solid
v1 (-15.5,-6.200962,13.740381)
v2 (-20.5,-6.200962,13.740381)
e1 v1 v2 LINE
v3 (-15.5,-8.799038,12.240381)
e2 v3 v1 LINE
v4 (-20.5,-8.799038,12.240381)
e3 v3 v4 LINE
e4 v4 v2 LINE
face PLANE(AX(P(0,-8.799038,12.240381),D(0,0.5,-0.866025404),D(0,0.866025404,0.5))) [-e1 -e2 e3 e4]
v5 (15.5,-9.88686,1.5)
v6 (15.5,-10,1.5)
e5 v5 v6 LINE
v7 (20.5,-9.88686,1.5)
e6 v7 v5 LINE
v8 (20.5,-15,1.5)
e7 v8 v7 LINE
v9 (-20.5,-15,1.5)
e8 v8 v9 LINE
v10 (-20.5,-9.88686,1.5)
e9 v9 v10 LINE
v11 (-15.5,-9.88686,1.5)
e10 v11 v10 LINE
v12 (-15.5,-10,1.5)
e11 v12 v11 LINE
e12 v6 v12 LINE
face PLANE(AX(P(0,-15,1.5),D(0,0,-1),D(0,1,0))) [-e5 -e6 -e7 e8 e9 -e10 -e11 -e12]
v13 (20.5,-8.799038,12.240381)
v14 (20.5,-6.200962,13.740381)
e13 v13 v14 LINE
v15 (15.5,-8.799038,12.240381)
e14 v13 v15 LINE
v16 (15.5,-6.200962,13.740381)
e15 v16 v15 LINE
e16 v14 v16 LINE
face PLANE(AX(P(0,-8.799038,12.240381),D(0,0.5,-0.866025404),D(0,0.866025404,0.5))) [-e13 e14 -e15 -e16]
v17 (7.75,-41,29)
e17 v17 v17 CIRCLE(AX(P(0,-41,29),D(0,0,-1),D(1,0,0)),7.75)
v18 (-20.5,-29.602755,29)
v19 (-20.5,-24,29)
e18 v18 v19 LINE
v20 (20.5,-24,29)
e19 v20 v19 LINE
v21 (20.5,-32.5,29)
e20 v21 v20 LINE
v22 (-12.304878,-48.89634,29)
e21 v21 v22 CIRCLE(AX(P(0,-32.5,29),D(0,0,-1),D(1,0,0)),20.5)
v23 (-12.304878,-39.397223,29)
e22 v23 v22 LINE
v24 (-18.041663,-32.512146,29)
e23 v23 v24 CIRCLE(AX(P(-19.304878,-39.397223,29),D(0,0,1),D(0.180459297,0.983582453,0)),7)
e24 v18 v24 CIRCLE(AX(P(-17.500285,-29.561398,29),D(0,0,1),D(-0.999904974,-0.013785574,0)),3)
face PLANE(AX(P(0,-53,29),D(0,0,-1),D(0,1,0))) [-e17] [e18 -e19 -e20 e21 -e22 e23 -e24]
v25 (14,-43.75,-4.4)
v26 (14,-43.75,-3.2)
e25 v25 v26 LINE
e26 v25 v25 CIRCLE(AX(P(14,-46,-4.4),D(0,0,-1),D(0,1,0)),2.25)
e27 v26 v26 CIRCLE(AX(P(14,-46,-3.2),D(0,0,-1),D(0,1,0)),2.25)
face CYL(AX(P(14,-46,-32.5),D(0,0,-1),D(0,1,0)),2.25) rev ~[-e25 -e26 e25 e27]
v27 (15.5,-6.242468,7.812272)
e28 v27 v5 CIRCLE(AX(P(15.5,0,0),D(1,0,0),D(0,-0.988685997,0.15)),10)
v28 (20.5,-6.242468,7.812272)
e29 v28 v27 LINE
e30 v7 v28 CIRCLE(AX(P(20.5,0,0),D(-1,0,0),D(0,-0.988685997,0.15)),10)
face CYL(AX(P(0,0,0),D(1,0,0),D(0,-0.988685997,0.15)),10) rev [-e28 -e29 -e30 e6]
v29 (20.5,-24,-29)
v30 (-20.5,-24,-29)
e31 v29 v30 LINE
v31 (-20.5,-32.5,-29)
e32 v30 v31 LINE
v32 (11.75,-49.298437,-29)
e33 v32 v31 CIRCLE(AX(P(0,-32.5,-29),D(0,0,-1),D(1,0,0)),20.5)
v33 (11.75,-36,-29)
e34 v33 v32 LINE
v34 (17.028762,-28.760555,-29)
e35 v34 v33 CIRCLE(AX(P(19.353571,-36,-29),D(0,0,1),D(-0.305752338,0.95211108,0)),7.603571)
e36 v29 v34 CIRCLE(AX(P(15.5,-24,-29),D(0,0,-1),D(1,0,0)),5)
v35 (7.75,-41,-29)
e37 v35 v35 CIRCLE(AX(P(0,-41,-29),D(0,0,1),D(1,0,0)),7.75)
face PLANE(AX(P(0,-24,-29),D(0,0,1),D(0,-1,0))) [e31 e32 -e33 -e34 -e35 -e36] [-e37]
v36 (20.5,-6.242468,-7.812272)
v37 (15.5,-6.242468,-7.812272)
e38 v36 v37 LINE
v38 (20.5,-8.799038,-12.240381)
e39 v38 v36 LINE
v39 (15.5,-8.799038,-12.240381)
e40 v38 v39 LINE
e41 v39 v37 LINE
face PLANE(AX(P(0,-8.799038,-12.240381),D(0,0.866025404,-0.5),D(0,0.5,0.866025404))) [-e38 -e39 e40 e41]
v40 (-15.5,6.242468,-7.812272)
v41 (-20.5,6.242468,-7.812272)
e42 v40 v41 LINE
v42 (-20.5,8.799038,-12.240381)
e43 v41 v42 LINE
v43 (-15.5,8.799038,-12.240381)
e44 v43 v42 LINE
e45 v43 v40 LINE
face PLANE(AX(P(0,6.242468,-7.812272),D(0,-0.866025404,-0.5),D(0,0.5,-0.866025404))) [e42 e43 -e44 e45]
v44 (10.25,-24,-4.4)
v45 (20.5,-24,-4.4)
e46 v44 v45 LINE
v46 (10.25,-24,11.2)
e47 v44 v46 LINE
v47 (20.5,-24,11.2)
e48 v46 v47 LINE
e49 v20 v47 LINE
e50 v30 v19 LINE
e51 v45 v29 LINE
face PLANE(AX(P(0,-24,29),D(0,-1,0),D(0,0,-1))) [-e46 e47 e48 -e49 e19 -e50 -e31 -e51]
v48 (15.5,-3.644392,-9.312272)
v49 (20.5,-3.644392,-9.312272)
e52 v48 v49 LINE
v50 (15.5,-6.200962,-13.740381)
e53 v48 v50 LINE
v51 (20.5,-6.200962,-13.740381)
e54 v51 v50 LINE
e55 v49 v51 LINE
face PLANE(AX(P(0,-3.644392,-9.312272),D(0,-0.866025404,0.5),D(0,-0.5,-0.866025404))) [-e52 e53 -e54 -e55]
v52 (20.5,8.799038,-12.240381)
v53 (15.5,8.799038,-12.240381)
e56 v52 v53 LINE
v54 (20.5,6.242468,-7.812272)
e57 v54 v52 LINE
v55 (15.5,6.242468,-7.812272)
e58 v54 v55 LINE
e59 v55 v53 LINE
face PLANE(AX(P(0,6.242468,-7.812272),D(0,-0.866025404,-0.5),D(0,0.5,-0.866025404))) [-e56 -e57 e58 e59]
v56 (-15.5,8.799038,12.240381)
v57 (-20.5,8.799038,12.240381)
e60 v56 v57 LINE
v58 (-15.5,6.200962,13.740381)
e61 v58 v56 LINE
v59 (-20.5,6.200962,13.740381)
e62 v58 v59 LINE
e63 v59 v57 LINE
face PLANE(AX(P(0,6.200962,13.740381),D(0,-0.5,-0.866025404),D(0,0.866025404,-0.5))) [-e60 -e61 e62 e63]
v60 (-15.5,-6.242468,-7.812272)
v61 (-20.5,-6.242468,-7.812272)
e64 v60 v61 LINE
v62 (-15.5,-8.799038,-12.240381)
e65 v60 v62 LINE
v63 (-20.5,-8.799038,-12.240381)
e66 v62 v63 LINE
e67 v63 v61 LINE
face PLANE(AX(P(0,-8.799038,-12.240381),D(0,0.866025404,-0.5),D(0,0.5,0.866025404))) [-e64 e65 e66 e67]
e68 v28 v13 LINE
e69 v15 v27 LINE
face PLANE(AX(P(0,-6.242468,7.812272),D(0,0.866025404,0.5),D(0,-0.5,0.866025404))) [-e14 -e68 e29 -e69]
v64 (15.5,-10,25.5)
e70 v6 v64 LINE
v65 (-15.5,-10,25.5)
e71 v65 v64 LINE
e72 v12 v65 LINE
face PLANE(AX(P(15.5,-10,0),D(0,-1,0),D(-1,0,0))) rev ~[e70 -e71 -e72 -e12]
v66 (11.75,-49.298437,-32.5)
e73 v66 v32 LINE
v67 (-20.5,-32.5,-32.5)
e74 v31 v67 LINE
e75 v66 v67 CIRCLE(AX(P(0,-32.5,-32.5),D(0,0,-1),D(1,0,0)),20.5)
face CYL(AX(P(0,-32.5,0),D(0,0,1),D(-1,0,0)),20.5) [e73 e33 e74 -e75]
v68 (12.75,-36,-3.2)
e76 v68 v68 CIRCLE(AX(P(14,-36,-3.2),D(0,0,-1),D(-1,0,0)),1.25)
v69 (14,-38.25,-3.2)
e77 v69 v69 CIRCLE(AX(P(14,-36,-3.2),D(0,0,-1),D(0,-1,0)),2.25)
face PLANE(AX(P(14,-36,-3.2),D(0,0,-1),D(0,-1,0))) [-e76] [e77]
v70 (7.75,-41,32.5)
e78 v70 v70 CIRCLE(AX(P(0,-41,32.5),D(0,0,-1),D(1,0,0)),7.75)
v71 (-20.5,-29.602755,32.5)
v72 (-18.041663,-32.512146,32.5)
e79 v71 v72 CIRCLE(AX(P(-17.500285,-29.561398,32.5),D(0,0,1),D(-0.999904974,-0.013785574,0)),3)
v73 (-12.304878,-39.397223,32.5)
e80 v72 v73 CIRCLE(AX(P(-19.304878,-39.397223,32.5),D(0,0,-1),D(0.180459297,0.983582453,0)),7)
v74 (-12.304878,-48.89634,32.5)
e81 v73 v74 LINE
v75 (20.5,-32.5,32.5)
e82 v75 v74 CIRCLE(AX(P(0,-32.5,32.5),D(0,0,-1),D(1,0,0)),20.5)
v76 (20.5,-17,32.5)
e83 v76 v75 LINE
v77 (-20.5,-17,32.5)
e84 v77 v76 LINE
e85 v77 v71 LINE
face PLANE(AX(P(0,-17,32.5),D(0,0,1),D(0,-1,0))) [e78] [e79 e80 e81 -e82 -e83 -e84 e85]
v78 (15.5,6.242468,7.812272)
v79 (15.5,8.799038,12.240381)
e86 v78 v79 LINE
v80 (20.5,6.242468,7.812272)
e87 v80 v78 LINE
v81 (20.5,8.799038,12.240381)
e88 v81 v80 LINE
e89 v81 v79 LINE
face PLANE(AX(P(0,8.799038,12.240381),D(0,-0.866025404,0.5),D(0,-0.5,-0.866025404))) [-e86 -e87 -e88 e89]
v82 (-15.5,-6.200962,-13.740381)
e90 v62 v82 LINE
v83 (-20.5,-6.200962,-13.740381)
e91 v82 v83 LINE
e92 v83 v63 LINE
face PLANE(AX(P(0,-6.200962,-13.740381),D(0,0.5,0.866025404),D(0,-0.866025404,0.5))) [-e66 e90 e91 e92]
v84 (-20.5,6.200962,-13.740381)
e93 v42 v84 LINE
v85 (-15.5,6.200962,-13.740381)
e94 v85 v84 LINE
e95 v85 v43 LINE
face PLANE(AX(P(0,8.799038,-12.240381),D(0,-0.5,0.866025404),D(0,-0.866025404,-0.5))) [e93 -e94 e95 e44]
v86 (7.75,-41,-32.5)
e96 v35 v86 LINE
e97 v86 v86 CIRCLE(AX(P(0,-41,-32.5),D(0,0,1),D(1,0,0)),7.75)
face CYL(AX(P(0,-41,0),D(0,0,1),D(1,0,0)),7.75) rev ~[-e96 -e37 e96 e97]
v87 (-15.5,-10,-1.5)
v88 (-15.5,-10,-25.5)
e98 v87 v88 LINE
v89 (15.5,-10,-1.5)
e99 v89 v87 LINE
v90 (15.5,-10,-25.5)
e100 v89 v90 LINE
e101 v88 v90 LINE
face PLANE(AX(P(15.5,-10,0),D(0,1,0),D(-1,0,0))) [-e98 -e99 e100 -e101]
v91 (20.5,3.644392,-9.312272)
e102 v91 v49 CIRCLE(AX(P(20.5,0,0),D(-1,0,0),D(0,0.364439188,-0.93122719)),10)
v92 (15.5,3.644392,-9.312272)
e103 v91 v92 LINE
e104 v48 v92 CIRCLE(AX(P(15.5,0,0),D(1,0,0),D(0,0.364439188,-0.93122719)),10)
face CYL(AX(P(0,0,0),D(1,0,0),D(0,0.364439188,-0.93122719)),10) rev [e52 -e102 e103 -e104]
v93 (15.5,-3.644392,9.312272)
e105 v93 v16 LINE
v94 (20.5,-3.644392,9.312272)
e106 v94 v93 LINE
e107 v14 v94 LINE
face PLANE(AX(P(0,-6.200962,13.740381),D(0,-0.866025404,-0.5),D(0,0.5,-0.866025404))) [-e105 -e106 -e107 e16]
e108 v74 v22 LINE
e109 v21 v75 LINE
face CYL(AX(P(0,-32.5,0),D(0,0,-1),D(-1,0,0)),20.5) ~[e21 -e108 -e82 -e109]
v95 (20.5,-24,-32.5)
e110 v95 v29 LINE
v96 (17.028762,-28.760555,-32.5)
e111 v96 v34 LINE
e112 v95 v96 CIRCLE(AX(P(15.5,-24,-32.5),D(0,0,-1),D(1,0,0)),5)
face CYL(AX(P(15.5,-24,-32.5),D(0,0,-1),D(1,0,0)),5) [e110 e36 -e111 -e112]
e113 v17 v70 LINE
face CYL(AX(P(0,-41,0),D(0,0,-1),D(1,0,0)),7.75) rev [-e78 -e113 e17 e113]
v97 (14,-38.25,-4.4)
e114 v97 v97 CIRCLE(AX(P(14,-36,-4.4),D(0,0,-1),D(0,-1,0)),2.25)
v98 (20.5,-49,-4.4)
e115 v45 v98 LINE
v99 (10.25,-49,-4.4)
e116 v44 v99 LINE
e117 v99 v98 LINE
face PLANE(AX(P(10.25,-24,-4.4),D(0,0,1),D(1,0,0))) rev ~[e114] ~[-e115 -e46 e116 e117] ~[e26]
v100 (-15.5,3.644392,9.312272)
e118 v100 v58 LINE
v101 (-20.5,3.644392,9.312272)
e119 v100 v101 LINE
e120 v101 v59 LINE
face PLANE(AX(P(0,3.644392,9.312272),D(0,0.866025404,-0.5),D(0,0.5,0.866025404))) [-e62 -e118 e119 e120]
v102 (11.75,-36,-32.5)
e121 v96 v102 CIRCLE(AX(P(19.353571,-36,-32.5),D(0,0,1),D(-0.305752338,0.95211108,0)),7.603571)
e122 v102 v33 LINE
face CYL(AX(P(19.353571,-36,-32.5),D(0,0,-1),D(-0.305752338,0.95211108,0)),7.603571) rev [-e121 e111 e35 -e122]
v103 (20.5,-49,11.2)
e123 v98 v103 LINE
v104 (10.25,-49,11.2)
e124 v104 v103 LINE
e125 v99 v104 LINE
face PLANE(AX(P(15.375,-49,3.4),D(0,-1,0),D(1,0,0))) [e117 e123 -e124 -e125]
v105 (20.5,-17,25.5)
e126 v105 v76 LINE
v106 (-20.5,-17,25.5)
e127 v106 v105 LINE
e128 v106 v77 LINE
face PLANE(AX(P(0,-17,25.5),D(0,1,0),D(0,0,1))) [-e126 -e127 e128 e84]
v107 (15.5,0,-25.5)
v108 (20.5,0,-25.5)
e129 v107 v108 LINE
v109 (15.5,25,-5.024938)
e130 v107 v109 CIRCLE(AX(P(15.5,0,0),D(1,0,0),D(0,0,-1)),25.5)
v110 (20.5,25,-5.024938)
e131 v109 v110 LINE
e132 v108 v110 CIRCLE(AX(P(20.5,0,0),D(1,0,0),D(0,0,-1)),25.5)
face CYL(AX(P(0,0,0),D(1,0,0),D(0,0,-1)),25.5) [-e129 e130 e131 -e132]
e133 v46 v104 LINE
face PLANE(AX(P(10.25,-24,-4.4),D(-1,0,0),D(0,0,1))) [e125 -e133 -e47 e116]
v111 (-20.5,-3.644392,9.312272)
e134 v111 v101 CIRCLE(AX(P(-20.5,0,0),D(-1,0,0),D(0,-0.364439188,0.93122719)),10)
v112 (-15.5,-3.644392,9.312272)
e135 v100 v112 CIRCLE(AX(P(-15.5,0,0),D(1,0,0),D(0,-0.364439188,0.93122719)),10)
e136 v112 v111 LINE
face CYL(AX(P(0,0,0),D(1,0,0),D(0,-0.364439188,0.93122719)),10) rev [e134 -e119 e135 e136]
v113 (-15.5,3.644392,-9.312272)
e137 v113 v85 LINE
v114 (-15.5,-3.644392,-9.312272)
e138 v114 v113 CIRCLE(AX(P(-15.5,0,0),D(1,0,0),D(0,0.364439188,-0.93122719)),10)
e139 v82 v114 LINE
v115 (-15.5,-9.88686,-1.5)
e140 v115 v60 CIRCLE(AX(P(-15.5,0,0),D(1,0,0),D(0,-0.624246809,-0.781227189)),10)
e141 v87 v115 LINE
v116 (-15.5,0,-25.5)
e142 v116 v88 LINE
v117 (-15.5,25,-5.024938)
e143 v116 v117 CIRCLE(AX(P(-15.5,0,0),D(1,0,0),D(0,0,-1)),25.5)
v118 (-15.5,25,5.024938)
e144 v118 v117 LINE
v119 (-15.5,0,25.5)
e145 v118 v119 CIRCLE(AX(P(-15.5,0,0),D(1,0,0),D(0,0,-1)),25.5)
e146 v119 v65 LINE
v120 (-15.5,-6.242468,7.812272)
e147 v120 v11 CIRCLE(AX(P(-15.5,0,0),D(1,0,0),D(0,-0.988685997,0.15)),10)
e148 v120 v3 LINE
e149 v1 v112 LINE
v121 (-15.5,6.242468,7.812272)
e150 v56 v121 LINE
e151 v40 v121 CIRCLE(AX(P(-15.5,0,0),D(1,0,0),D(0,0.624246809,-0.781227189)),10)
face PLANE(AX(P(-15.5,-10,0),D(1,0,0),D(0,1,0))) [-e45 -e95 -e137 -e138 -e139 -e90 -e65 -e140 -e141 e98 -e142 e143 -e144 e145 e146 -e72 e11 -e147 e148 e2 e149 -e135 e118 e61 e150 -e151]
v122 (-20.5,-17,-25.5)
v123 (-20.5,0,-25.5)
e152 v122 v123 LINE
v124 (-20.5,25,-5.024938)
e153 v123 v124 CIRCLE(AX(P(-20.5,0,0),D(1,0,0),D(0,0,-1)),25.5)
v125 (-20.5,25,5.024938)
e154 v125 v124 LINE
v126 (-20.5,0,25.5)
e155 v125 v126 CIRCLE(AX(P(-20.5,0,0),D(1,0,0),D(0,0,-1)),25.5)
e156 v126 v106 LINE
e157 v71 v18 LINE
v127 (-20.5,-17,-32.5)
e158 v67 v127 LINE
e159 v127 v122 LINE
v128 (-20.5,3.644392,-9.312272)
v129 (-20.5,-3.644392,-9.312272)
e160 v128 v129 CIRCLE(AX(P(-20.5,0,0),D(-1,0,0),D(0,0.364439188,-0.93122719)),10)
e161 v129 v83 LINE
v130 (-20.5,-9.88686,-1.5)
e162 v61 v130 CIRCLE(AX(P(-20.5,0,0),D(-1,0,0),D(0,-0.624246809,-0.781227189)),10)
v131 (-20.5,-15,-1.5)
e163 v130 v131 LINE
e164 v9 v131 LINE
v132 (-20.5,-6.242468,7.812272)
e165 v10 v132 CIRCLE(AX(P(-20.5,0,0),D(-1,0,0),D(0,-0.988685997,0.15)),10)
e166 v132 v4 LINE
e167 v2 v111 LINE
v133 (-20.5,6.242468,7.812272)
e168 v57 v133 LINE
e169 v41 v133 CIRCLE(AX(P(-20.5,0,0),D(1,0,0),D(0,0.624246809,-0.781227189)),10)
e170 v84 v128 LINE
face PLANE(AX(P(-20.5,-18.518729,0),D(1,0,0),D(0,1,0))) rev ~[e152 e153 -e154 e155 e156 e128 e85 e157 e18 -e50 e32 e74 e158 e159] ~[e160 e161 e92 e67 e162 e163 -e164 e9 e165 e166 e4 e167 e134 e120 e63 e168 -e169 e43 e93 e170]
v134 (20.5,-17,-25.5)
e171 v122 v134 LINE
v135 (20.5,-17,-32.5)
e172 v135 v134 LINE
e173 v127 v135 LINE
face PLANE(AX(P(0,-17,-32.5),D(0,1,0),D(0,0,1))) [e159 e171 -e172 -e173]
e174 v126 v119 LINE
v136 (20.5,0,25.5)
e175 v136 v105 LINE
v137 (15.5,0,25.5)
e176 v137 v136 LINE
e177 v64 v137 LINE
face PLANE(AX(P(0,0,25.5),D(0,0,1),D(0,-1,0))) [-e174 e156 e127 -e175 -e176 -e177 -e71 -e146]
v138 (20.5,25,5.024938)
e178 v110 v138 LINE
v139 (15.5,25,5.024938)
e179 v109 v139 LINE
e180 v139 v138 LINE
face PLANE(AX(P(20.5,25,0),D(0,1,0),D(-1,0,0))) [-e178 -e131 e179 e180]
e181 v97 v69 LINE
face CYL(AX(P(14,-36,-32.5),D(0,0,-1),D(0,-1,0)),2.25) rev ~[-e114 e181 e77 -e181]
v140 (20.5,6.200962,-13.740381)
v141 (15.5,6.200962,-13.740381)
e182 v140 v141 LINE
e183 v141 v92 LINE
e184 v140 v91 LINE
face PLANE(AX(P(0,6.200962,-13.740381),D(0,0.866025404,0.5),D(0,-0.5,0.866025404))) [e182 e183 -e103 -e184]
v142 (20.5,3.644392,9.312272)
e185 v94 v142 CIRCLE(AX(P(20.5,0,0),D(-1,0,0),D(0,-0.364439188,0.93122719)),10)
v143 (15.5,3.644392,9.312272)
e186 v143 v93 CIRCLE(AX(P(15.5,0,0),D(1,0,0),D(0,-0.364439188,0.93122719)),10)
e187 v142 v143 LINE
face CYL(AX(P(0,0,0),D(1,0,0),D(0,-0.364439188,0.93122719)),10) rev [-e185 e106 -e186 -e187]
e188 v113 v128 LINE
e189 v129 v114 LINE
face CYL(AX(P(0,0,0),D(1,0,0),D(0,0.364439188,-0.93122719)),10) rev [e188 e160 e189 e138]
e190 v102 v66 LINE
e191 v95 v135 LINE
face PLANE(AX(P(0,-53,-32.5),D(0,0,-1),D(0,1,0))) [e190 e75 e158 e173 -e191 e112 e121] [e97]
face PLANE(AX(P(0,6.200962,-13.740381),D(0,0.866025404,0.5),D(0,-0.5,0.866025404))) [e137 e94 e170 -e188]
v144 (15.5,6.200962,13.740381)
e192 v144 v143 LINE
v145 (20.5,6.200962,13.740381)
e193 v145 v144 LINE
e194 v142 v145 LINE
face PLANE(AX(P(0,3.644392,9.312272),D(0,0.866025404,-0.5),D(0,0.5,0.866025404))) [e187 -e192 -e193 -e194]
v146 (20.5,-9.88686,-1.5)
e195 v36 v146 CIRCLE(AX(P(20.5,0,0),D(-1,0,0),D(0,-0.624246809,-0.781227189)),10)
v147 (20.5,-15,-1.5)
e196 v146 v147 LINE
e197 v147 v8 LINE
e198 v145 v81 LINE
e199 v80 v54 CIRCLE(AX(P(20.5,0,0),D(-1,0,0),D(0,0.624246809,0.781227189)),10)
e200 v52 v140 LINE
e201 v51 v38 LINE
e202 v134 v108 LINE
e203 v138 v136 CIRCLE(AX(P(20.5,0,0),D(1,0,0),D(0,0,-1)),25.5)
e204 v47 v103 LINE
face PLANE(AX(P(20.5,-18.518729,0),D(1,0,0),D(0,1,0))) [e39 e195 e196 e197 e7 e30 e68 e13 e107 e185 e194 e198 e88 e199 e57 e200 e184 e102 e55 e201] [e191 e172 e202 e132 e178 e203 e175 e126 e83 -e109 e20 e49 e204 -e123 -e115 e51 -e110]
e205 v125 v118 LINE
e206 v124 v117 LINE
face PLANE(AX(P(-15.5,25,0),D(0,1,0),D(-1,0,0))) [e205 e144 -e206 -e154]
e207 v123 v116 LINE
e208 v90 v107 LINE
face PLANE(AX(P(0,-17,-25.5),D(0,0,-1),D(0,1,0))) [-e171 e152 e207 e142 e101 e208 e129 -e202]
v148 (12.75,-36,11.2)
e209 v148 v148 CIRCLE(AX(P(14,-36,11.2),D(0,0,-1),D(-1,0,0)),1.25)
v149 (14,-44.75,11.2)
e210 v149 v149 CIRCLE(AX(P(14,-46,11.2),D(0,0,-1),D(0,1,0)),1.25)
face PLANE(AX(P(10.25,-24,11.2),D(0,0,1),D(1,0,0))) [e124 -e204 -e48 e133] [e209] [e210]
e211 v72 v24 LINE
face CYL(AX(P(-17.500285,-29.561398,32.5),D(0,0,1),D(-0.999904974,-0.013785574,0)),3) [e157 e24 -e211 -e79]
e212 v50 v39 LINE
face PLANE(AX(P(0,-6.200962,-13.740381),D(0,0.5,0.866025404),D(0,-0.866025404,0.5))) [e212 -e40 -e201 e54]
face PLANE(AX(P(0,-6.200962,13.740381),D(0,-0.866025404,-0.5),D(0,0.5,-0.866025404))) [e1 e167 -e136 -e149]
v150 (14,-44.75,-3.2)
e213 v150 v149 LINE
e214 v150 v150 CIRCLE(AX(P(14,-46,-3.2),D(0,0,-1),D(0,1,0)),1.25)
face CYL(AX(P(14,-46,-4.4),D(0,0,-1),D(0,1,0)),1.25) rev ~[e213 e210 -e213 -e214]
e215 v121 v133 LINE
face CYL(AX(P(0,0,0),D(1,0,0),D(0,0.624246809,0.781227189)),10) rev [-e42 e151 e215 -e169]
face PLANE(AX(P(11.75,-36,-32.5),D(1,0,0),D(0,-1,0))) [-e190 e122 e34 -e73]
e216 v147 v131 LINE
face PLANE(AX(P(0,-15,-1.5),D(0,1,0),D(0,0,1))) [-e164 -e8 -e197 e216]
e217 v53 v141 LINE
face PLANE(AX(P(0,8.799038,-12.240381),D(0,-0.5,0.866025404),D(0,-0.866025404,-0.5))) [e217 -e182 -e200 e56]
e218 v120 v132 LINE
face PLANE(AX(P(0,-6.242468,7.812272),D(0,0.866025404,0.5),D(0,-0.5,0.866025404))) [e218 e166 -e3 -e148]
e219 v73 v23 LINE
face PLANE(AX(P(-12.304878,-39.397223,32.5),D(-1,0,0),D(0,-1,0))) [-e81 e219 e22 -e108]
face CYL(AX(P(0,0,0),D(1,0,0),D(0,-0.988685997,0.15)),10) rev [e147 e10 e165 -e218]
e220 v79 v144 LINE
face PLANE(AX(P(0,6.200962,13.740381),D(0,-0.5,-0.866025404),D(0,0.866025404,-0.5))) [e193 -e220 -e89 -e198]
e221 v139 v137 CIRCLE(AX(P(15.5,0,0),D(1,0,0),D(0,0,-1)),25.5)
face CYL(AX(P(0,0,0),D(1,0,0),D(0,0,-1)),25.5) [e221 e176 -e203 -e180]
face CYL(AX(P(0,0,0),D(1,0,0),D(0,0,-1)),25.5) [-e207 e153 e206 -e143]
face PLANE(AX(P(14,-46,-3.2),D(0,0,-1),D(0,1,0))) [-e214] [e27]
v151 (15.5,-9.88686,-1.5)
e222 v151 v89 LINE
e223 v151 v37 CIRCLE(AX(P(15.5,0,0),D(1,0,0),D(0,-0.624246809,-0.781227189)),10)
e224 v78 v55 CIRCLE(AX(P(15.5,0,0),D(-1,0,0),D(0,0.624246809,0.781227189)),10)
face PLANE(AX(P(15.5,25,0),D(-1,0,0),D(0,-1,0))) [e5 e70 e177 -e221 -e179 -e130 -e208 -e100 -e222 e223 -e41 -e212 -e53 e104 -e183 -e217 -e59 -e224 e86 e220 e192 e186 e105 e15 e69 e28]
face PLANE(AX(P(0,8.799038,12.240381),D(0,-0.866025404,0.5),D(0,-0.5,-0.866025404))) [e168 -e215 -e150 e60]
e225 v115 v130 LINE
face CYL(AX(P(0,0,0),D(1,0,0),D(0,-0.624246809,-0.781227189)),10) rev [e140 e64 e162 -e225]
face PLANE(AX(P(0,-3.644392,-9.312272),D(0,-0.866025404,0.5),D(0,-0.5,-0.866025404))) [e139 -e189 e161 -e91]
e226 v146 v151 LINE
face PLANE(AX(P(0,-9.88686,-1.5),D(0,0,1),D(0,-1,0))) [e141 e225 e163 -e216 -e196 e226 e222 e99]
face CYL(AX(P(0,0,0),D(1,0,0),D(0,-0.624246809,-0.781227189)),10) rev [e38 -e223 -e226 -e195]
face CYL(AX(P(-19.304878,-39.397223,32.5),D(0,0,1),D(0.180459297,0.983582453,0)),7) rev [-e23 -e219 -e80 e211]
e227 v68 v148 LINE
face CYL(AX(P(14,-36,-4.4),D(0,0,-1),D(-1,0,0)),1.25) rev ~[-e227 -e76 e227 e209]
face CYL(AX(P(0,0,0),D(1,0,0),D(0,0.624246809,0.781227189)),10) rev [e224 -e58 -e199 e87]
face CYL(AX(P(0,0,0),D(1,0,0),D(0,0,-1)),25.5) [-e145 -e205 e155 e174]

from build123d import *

# Parameters (mm, degrees)
BOSS_EXTRUDE1_DEPTH     = 20.5
SKETCH2_W               = 88
SKETCH2_H               = 51
SKETCH2_R               = 7.75
CUT_EXTRUDE1_DEPTH      = 66.463730416
CUT_EXTRUDE1_DEPTH_BACK = 66.463730416
SKETCH4_W               = 10.25
SKETCH4_H               = 15.6
BOSS_EXTRUDE2_DEPTH     = 25
CUT_EXTRUDE2_REACH      = 69.756
SKETCH5_R               = 1.25
SKETCH6_R               = 2.25
CUT_EXTRUDE3_DEPTH      = 29.3
CUT_EXTRUDE4_REACH      = 88.338
CUT_EXTRUDE5_DEPTH      = 3.5


with BuildPart() as part:
    # Sketch1 → Boss-Extrude1 (new, symmetric)
    with BuildSketch(Plane.YZ):
        with BuildLine():
            Line((-53, -32.5), (-17, -32.5))
            Line((-17, -32.5), (-17, -25.5))
            Line((-17, -25.5), (0, -25.5))
            ThreePointArc((0, -25.5), (25.5, 0), (0, 25.5))
            Line((0, 25.5), (-17, 25.5))
            Line((-17, 25.5), (-17, 32.5))
            Line((-17, 32.5), (-53, 32.5))
            Line((-53, 32.5), (-53, 29))
            Line((-53, 29), (-24, 29))
            Line((-24, 29), (-24, -29))
            Line((-24, -29), (-53, -29))
            Line((-53, -29), (-53, -32.5))
        make_face()
        with BuildLine():
            Line((-3.644391878, -9.312271895), (-6.200961894, -13.740381057))
            Line((-6.200961894, -13.740381057), (-8.799038106, -12.240381057))
            Line((-8.799038106, -12.240381057), (-6.242468089, -7.812271895))
            ThreePointArc((-6.242468089, -7.812271895), (-8.660254038, -5), (-9.886859967, -1.5))
            Line((-9.886859967, -1.5), (-15, -1.5))
            Line((-15, -1.5), (-15, 1.5))
            Line((-15, 1.5), (-9.886859967, 1.5))
            ThreePointArc((-9.886859967, 1.5), (-8.660254038, 5), (-6.242468089, 7.812271895))
            Line((-6.242468089, 7.812271895), (-8.799038106, 12.240381057))
            Line((-8.799038106, 12.240381057), (-6.200961894, 13.740381057))
            Line((-6.200961894, 13.740381057), (-3.644391878, 9.312271895))
            ThreePointArc((-3.644391878, 9.312271895), (0, 10), (3.644391878, 9.312271895))
            Line((3.644391878, 9.312271895), (6.200961894, 13.740381057))
            Line((6.200961894, 13.740381057), (8.799038106, 12.240381057))
            Line((8.799038106, 12.240381057), (6.242468089, 7.812271895))
            ThreePointArc((6.242468089, 7.812271895), (10, 0), (6.242468089, -7.812271895))
            Line((6.242468089, -7.812271895), (8.799038106, -12.240381057))
            Line((8.799038106, -12.240381057), (6.200961894, -13.740381057))
            Line((6.200961894, -13.740381057), (3.644391878, -9.312271895))
            ThreePointArc((3.644391878, -9.312271895), (0, -10), (-3.644391878, -9.312271895))
        make_face(mode=Mode.SUBTRACT)
    extrude(amount=BOSS_EXTRUDE1_DEPTH, both=True)

    # Sketch2 → Cut-Extrude1 (cut, two sides)
    with BuildSketch(Plane(origin=(0, 0, 0), x_dir=(0, 1, 0), z_dir=(0, 0, 1))) as cut_extrude1_sk:
        with Locations((-14, 0)):
            Rectangle(SKETCH2_W, SKETCH2_H)
        with BuildLine():
            Line((-10, 15.5), (25, 15.5))
            Line((25, 15.5), (25, 20.5))
            Line((25, 20.5), (-32.5, 20.5))
            ThreePointArc((-32.5, 20.5), (-53, 0), (-32.5, -20.5))
            Line((-32.5, -20.5), (25, -20.5))
            Line((25, -20.5), (25, -15.5))
            Line((25, -15.5), (-10, -15.5))
            Line((-10, -15.5), (-10, 15.5))
        make_face(mode=Mode.SUBTRACT)
        with Locations(Location((-41, 0, 0), (0, 0, 270))):
            Circle(SKETCH2_R)
    extrude(amount=CUT_EXTRUDE1_DEPTH, mode=Mode.SUBTRACT)
    extrude(cut_extrude1_sk.sketch, amount=-CUT_EXTRUDE1_DEPTH_BACK, mode=Mode.SUBTRACT)

    # Sketch4 → Boss-Extrude2 (add)
    with BuildSketch(Plane.XZ.offset(24)):
        with Locations((15.375, 3.4)):
            Rectangle(SKETCH4_W, SKETCH4_H)
    extrude(amount=BOSS_EXTRUDE2_DEPTH)

    # Sketch5 → Cut-Extrude2 (cut, up to next)
    with BuildSketch(Plane(origin=(0, 0, -4.4), x_dir=(1, 0, 0), z_dir=(0, 0, -1)), mode=Mode.PRIVATE) as cut_extrude2_sk1:
        with Locations(Location((14, 46, 0), (0, 0, 270))):
            Circle(SKETCH5_R)
    cut_extrude2_tool1 = extrude(cut_extrude2_sk1.sketch, amount=-CUT_EXTRUDE2_REACH, mode=Mode.PRIVATE) & part.part
    # Sketch5 → Cut-Extrude2 (cut, up to next)
    with BuildSketch(Plane(origin=(0, 0, -4.4), x_dir=(1, 0, 0), z_dir=(0, 0, -1)), mode=Mode.PRIVATE) as cut_extrude2_sk2:
        with Locations(Location((14, 36, 0), (0, 0, 180))):
            Circle(SKETCH5_R)
    cut_extrude2_tool2 = extrude(cut_extrude2_sk2.sketch, amount=-CUT_EXTRUDE2_REACH, mode=Mode.PRIVATE) & part.part
    add(cut_extrude2_tool1.solids().sort_by_distance((14, -46, -4.4))[0], mode=Mode.SUBTRACT)
    add(cut_extrude2_tool2.solids().sort_by_distance((14, -36, -4.4))[0], mode=Mode.SUBTRACT)

    # Sketch6 → Cut-Extrude3 (cut)
    with BuildSketch(Plane(origin=(0, 0, -32.5), x_dir=(1, 0, 0), z_dir=(0, 0, -1))):
        with Locations(Location((14, 46, 0), (0, 0, 270))):
            Circle(SKETCH6_R)
        with Locations(Location((14, 36, 0), (0, 0, 90))):
            Circle(SKETCH6_R)
    extrude(amount=-CUT_EXTRUDE3_DEPTH, mode=Mode.SUBTRACT)

    # Sketch7 → Cut-Extrude4 (cut, up to next)
    with BuildSketch(Plane.XY.offset(32.5), mode=Mode.PRIVATE) as cut_extrude4_sk1:
        with BuildLine():
            Line((-12.304878049, -39.397222885), (-12.304878049, -48.89634033))
            Line((-12.304878049, -48.89634033), (-20.5, -48.89634033))
            Line((-20.5, -48.89634033), (-20.5, -41.884242803))
            Line((-20.5, -41.884242803), (-20.5, -29.602755078))
            ThreePointArc((-20.5, -29.602755078), (-19.791785251, -31.497638771), (-18.041662968, -32.512145713))
            ThreePointArc((-18.041662968, -32.512145713), (-13.927029708, -34.916291372), (-12.304878049, -39.397222885))
        make_face()
    cut_extrude4_tool1 = extrude(cut_extrude4_sk1.sketch, amount=-CUT_EXTRUDE4_REACH, mode=Mode.PRIVATE) & part.part
    add(cut_extrude4_tool1.solids().sort_by_distance((-16.657353, -41.093277, 32.5))[0], mode=Mode.SUBTRACT)

    # Sketch9 → Cut-Extrude5 (cut)
    with BuildSketch(Plane(origin=(0, 0, -32.5), x_dir=(1, 0, 0), z_dir=(0, 0, -1))):
        with BuildLine():
            Line((20.5, 49.298437427), (20.5, 24))
            ThreePointArc((20.5, 24), (19.540037651, 26.945860787), (17.028761689, 28.760555398))
            ThreePointArc((17.028761689, 28.760555398), (13.209828458, 31.520187417), (11.75, 36))
            Line((11.75, 36), (11.75, 49.298437427))
            Line((11.75, 49.298437427), (20.5, 49.298437427))
        make_face()
    extrude(amount=-CUT_EXTRUDE5_DEPTH, mode=Mode.SUBTRACT)


solid = part.part
